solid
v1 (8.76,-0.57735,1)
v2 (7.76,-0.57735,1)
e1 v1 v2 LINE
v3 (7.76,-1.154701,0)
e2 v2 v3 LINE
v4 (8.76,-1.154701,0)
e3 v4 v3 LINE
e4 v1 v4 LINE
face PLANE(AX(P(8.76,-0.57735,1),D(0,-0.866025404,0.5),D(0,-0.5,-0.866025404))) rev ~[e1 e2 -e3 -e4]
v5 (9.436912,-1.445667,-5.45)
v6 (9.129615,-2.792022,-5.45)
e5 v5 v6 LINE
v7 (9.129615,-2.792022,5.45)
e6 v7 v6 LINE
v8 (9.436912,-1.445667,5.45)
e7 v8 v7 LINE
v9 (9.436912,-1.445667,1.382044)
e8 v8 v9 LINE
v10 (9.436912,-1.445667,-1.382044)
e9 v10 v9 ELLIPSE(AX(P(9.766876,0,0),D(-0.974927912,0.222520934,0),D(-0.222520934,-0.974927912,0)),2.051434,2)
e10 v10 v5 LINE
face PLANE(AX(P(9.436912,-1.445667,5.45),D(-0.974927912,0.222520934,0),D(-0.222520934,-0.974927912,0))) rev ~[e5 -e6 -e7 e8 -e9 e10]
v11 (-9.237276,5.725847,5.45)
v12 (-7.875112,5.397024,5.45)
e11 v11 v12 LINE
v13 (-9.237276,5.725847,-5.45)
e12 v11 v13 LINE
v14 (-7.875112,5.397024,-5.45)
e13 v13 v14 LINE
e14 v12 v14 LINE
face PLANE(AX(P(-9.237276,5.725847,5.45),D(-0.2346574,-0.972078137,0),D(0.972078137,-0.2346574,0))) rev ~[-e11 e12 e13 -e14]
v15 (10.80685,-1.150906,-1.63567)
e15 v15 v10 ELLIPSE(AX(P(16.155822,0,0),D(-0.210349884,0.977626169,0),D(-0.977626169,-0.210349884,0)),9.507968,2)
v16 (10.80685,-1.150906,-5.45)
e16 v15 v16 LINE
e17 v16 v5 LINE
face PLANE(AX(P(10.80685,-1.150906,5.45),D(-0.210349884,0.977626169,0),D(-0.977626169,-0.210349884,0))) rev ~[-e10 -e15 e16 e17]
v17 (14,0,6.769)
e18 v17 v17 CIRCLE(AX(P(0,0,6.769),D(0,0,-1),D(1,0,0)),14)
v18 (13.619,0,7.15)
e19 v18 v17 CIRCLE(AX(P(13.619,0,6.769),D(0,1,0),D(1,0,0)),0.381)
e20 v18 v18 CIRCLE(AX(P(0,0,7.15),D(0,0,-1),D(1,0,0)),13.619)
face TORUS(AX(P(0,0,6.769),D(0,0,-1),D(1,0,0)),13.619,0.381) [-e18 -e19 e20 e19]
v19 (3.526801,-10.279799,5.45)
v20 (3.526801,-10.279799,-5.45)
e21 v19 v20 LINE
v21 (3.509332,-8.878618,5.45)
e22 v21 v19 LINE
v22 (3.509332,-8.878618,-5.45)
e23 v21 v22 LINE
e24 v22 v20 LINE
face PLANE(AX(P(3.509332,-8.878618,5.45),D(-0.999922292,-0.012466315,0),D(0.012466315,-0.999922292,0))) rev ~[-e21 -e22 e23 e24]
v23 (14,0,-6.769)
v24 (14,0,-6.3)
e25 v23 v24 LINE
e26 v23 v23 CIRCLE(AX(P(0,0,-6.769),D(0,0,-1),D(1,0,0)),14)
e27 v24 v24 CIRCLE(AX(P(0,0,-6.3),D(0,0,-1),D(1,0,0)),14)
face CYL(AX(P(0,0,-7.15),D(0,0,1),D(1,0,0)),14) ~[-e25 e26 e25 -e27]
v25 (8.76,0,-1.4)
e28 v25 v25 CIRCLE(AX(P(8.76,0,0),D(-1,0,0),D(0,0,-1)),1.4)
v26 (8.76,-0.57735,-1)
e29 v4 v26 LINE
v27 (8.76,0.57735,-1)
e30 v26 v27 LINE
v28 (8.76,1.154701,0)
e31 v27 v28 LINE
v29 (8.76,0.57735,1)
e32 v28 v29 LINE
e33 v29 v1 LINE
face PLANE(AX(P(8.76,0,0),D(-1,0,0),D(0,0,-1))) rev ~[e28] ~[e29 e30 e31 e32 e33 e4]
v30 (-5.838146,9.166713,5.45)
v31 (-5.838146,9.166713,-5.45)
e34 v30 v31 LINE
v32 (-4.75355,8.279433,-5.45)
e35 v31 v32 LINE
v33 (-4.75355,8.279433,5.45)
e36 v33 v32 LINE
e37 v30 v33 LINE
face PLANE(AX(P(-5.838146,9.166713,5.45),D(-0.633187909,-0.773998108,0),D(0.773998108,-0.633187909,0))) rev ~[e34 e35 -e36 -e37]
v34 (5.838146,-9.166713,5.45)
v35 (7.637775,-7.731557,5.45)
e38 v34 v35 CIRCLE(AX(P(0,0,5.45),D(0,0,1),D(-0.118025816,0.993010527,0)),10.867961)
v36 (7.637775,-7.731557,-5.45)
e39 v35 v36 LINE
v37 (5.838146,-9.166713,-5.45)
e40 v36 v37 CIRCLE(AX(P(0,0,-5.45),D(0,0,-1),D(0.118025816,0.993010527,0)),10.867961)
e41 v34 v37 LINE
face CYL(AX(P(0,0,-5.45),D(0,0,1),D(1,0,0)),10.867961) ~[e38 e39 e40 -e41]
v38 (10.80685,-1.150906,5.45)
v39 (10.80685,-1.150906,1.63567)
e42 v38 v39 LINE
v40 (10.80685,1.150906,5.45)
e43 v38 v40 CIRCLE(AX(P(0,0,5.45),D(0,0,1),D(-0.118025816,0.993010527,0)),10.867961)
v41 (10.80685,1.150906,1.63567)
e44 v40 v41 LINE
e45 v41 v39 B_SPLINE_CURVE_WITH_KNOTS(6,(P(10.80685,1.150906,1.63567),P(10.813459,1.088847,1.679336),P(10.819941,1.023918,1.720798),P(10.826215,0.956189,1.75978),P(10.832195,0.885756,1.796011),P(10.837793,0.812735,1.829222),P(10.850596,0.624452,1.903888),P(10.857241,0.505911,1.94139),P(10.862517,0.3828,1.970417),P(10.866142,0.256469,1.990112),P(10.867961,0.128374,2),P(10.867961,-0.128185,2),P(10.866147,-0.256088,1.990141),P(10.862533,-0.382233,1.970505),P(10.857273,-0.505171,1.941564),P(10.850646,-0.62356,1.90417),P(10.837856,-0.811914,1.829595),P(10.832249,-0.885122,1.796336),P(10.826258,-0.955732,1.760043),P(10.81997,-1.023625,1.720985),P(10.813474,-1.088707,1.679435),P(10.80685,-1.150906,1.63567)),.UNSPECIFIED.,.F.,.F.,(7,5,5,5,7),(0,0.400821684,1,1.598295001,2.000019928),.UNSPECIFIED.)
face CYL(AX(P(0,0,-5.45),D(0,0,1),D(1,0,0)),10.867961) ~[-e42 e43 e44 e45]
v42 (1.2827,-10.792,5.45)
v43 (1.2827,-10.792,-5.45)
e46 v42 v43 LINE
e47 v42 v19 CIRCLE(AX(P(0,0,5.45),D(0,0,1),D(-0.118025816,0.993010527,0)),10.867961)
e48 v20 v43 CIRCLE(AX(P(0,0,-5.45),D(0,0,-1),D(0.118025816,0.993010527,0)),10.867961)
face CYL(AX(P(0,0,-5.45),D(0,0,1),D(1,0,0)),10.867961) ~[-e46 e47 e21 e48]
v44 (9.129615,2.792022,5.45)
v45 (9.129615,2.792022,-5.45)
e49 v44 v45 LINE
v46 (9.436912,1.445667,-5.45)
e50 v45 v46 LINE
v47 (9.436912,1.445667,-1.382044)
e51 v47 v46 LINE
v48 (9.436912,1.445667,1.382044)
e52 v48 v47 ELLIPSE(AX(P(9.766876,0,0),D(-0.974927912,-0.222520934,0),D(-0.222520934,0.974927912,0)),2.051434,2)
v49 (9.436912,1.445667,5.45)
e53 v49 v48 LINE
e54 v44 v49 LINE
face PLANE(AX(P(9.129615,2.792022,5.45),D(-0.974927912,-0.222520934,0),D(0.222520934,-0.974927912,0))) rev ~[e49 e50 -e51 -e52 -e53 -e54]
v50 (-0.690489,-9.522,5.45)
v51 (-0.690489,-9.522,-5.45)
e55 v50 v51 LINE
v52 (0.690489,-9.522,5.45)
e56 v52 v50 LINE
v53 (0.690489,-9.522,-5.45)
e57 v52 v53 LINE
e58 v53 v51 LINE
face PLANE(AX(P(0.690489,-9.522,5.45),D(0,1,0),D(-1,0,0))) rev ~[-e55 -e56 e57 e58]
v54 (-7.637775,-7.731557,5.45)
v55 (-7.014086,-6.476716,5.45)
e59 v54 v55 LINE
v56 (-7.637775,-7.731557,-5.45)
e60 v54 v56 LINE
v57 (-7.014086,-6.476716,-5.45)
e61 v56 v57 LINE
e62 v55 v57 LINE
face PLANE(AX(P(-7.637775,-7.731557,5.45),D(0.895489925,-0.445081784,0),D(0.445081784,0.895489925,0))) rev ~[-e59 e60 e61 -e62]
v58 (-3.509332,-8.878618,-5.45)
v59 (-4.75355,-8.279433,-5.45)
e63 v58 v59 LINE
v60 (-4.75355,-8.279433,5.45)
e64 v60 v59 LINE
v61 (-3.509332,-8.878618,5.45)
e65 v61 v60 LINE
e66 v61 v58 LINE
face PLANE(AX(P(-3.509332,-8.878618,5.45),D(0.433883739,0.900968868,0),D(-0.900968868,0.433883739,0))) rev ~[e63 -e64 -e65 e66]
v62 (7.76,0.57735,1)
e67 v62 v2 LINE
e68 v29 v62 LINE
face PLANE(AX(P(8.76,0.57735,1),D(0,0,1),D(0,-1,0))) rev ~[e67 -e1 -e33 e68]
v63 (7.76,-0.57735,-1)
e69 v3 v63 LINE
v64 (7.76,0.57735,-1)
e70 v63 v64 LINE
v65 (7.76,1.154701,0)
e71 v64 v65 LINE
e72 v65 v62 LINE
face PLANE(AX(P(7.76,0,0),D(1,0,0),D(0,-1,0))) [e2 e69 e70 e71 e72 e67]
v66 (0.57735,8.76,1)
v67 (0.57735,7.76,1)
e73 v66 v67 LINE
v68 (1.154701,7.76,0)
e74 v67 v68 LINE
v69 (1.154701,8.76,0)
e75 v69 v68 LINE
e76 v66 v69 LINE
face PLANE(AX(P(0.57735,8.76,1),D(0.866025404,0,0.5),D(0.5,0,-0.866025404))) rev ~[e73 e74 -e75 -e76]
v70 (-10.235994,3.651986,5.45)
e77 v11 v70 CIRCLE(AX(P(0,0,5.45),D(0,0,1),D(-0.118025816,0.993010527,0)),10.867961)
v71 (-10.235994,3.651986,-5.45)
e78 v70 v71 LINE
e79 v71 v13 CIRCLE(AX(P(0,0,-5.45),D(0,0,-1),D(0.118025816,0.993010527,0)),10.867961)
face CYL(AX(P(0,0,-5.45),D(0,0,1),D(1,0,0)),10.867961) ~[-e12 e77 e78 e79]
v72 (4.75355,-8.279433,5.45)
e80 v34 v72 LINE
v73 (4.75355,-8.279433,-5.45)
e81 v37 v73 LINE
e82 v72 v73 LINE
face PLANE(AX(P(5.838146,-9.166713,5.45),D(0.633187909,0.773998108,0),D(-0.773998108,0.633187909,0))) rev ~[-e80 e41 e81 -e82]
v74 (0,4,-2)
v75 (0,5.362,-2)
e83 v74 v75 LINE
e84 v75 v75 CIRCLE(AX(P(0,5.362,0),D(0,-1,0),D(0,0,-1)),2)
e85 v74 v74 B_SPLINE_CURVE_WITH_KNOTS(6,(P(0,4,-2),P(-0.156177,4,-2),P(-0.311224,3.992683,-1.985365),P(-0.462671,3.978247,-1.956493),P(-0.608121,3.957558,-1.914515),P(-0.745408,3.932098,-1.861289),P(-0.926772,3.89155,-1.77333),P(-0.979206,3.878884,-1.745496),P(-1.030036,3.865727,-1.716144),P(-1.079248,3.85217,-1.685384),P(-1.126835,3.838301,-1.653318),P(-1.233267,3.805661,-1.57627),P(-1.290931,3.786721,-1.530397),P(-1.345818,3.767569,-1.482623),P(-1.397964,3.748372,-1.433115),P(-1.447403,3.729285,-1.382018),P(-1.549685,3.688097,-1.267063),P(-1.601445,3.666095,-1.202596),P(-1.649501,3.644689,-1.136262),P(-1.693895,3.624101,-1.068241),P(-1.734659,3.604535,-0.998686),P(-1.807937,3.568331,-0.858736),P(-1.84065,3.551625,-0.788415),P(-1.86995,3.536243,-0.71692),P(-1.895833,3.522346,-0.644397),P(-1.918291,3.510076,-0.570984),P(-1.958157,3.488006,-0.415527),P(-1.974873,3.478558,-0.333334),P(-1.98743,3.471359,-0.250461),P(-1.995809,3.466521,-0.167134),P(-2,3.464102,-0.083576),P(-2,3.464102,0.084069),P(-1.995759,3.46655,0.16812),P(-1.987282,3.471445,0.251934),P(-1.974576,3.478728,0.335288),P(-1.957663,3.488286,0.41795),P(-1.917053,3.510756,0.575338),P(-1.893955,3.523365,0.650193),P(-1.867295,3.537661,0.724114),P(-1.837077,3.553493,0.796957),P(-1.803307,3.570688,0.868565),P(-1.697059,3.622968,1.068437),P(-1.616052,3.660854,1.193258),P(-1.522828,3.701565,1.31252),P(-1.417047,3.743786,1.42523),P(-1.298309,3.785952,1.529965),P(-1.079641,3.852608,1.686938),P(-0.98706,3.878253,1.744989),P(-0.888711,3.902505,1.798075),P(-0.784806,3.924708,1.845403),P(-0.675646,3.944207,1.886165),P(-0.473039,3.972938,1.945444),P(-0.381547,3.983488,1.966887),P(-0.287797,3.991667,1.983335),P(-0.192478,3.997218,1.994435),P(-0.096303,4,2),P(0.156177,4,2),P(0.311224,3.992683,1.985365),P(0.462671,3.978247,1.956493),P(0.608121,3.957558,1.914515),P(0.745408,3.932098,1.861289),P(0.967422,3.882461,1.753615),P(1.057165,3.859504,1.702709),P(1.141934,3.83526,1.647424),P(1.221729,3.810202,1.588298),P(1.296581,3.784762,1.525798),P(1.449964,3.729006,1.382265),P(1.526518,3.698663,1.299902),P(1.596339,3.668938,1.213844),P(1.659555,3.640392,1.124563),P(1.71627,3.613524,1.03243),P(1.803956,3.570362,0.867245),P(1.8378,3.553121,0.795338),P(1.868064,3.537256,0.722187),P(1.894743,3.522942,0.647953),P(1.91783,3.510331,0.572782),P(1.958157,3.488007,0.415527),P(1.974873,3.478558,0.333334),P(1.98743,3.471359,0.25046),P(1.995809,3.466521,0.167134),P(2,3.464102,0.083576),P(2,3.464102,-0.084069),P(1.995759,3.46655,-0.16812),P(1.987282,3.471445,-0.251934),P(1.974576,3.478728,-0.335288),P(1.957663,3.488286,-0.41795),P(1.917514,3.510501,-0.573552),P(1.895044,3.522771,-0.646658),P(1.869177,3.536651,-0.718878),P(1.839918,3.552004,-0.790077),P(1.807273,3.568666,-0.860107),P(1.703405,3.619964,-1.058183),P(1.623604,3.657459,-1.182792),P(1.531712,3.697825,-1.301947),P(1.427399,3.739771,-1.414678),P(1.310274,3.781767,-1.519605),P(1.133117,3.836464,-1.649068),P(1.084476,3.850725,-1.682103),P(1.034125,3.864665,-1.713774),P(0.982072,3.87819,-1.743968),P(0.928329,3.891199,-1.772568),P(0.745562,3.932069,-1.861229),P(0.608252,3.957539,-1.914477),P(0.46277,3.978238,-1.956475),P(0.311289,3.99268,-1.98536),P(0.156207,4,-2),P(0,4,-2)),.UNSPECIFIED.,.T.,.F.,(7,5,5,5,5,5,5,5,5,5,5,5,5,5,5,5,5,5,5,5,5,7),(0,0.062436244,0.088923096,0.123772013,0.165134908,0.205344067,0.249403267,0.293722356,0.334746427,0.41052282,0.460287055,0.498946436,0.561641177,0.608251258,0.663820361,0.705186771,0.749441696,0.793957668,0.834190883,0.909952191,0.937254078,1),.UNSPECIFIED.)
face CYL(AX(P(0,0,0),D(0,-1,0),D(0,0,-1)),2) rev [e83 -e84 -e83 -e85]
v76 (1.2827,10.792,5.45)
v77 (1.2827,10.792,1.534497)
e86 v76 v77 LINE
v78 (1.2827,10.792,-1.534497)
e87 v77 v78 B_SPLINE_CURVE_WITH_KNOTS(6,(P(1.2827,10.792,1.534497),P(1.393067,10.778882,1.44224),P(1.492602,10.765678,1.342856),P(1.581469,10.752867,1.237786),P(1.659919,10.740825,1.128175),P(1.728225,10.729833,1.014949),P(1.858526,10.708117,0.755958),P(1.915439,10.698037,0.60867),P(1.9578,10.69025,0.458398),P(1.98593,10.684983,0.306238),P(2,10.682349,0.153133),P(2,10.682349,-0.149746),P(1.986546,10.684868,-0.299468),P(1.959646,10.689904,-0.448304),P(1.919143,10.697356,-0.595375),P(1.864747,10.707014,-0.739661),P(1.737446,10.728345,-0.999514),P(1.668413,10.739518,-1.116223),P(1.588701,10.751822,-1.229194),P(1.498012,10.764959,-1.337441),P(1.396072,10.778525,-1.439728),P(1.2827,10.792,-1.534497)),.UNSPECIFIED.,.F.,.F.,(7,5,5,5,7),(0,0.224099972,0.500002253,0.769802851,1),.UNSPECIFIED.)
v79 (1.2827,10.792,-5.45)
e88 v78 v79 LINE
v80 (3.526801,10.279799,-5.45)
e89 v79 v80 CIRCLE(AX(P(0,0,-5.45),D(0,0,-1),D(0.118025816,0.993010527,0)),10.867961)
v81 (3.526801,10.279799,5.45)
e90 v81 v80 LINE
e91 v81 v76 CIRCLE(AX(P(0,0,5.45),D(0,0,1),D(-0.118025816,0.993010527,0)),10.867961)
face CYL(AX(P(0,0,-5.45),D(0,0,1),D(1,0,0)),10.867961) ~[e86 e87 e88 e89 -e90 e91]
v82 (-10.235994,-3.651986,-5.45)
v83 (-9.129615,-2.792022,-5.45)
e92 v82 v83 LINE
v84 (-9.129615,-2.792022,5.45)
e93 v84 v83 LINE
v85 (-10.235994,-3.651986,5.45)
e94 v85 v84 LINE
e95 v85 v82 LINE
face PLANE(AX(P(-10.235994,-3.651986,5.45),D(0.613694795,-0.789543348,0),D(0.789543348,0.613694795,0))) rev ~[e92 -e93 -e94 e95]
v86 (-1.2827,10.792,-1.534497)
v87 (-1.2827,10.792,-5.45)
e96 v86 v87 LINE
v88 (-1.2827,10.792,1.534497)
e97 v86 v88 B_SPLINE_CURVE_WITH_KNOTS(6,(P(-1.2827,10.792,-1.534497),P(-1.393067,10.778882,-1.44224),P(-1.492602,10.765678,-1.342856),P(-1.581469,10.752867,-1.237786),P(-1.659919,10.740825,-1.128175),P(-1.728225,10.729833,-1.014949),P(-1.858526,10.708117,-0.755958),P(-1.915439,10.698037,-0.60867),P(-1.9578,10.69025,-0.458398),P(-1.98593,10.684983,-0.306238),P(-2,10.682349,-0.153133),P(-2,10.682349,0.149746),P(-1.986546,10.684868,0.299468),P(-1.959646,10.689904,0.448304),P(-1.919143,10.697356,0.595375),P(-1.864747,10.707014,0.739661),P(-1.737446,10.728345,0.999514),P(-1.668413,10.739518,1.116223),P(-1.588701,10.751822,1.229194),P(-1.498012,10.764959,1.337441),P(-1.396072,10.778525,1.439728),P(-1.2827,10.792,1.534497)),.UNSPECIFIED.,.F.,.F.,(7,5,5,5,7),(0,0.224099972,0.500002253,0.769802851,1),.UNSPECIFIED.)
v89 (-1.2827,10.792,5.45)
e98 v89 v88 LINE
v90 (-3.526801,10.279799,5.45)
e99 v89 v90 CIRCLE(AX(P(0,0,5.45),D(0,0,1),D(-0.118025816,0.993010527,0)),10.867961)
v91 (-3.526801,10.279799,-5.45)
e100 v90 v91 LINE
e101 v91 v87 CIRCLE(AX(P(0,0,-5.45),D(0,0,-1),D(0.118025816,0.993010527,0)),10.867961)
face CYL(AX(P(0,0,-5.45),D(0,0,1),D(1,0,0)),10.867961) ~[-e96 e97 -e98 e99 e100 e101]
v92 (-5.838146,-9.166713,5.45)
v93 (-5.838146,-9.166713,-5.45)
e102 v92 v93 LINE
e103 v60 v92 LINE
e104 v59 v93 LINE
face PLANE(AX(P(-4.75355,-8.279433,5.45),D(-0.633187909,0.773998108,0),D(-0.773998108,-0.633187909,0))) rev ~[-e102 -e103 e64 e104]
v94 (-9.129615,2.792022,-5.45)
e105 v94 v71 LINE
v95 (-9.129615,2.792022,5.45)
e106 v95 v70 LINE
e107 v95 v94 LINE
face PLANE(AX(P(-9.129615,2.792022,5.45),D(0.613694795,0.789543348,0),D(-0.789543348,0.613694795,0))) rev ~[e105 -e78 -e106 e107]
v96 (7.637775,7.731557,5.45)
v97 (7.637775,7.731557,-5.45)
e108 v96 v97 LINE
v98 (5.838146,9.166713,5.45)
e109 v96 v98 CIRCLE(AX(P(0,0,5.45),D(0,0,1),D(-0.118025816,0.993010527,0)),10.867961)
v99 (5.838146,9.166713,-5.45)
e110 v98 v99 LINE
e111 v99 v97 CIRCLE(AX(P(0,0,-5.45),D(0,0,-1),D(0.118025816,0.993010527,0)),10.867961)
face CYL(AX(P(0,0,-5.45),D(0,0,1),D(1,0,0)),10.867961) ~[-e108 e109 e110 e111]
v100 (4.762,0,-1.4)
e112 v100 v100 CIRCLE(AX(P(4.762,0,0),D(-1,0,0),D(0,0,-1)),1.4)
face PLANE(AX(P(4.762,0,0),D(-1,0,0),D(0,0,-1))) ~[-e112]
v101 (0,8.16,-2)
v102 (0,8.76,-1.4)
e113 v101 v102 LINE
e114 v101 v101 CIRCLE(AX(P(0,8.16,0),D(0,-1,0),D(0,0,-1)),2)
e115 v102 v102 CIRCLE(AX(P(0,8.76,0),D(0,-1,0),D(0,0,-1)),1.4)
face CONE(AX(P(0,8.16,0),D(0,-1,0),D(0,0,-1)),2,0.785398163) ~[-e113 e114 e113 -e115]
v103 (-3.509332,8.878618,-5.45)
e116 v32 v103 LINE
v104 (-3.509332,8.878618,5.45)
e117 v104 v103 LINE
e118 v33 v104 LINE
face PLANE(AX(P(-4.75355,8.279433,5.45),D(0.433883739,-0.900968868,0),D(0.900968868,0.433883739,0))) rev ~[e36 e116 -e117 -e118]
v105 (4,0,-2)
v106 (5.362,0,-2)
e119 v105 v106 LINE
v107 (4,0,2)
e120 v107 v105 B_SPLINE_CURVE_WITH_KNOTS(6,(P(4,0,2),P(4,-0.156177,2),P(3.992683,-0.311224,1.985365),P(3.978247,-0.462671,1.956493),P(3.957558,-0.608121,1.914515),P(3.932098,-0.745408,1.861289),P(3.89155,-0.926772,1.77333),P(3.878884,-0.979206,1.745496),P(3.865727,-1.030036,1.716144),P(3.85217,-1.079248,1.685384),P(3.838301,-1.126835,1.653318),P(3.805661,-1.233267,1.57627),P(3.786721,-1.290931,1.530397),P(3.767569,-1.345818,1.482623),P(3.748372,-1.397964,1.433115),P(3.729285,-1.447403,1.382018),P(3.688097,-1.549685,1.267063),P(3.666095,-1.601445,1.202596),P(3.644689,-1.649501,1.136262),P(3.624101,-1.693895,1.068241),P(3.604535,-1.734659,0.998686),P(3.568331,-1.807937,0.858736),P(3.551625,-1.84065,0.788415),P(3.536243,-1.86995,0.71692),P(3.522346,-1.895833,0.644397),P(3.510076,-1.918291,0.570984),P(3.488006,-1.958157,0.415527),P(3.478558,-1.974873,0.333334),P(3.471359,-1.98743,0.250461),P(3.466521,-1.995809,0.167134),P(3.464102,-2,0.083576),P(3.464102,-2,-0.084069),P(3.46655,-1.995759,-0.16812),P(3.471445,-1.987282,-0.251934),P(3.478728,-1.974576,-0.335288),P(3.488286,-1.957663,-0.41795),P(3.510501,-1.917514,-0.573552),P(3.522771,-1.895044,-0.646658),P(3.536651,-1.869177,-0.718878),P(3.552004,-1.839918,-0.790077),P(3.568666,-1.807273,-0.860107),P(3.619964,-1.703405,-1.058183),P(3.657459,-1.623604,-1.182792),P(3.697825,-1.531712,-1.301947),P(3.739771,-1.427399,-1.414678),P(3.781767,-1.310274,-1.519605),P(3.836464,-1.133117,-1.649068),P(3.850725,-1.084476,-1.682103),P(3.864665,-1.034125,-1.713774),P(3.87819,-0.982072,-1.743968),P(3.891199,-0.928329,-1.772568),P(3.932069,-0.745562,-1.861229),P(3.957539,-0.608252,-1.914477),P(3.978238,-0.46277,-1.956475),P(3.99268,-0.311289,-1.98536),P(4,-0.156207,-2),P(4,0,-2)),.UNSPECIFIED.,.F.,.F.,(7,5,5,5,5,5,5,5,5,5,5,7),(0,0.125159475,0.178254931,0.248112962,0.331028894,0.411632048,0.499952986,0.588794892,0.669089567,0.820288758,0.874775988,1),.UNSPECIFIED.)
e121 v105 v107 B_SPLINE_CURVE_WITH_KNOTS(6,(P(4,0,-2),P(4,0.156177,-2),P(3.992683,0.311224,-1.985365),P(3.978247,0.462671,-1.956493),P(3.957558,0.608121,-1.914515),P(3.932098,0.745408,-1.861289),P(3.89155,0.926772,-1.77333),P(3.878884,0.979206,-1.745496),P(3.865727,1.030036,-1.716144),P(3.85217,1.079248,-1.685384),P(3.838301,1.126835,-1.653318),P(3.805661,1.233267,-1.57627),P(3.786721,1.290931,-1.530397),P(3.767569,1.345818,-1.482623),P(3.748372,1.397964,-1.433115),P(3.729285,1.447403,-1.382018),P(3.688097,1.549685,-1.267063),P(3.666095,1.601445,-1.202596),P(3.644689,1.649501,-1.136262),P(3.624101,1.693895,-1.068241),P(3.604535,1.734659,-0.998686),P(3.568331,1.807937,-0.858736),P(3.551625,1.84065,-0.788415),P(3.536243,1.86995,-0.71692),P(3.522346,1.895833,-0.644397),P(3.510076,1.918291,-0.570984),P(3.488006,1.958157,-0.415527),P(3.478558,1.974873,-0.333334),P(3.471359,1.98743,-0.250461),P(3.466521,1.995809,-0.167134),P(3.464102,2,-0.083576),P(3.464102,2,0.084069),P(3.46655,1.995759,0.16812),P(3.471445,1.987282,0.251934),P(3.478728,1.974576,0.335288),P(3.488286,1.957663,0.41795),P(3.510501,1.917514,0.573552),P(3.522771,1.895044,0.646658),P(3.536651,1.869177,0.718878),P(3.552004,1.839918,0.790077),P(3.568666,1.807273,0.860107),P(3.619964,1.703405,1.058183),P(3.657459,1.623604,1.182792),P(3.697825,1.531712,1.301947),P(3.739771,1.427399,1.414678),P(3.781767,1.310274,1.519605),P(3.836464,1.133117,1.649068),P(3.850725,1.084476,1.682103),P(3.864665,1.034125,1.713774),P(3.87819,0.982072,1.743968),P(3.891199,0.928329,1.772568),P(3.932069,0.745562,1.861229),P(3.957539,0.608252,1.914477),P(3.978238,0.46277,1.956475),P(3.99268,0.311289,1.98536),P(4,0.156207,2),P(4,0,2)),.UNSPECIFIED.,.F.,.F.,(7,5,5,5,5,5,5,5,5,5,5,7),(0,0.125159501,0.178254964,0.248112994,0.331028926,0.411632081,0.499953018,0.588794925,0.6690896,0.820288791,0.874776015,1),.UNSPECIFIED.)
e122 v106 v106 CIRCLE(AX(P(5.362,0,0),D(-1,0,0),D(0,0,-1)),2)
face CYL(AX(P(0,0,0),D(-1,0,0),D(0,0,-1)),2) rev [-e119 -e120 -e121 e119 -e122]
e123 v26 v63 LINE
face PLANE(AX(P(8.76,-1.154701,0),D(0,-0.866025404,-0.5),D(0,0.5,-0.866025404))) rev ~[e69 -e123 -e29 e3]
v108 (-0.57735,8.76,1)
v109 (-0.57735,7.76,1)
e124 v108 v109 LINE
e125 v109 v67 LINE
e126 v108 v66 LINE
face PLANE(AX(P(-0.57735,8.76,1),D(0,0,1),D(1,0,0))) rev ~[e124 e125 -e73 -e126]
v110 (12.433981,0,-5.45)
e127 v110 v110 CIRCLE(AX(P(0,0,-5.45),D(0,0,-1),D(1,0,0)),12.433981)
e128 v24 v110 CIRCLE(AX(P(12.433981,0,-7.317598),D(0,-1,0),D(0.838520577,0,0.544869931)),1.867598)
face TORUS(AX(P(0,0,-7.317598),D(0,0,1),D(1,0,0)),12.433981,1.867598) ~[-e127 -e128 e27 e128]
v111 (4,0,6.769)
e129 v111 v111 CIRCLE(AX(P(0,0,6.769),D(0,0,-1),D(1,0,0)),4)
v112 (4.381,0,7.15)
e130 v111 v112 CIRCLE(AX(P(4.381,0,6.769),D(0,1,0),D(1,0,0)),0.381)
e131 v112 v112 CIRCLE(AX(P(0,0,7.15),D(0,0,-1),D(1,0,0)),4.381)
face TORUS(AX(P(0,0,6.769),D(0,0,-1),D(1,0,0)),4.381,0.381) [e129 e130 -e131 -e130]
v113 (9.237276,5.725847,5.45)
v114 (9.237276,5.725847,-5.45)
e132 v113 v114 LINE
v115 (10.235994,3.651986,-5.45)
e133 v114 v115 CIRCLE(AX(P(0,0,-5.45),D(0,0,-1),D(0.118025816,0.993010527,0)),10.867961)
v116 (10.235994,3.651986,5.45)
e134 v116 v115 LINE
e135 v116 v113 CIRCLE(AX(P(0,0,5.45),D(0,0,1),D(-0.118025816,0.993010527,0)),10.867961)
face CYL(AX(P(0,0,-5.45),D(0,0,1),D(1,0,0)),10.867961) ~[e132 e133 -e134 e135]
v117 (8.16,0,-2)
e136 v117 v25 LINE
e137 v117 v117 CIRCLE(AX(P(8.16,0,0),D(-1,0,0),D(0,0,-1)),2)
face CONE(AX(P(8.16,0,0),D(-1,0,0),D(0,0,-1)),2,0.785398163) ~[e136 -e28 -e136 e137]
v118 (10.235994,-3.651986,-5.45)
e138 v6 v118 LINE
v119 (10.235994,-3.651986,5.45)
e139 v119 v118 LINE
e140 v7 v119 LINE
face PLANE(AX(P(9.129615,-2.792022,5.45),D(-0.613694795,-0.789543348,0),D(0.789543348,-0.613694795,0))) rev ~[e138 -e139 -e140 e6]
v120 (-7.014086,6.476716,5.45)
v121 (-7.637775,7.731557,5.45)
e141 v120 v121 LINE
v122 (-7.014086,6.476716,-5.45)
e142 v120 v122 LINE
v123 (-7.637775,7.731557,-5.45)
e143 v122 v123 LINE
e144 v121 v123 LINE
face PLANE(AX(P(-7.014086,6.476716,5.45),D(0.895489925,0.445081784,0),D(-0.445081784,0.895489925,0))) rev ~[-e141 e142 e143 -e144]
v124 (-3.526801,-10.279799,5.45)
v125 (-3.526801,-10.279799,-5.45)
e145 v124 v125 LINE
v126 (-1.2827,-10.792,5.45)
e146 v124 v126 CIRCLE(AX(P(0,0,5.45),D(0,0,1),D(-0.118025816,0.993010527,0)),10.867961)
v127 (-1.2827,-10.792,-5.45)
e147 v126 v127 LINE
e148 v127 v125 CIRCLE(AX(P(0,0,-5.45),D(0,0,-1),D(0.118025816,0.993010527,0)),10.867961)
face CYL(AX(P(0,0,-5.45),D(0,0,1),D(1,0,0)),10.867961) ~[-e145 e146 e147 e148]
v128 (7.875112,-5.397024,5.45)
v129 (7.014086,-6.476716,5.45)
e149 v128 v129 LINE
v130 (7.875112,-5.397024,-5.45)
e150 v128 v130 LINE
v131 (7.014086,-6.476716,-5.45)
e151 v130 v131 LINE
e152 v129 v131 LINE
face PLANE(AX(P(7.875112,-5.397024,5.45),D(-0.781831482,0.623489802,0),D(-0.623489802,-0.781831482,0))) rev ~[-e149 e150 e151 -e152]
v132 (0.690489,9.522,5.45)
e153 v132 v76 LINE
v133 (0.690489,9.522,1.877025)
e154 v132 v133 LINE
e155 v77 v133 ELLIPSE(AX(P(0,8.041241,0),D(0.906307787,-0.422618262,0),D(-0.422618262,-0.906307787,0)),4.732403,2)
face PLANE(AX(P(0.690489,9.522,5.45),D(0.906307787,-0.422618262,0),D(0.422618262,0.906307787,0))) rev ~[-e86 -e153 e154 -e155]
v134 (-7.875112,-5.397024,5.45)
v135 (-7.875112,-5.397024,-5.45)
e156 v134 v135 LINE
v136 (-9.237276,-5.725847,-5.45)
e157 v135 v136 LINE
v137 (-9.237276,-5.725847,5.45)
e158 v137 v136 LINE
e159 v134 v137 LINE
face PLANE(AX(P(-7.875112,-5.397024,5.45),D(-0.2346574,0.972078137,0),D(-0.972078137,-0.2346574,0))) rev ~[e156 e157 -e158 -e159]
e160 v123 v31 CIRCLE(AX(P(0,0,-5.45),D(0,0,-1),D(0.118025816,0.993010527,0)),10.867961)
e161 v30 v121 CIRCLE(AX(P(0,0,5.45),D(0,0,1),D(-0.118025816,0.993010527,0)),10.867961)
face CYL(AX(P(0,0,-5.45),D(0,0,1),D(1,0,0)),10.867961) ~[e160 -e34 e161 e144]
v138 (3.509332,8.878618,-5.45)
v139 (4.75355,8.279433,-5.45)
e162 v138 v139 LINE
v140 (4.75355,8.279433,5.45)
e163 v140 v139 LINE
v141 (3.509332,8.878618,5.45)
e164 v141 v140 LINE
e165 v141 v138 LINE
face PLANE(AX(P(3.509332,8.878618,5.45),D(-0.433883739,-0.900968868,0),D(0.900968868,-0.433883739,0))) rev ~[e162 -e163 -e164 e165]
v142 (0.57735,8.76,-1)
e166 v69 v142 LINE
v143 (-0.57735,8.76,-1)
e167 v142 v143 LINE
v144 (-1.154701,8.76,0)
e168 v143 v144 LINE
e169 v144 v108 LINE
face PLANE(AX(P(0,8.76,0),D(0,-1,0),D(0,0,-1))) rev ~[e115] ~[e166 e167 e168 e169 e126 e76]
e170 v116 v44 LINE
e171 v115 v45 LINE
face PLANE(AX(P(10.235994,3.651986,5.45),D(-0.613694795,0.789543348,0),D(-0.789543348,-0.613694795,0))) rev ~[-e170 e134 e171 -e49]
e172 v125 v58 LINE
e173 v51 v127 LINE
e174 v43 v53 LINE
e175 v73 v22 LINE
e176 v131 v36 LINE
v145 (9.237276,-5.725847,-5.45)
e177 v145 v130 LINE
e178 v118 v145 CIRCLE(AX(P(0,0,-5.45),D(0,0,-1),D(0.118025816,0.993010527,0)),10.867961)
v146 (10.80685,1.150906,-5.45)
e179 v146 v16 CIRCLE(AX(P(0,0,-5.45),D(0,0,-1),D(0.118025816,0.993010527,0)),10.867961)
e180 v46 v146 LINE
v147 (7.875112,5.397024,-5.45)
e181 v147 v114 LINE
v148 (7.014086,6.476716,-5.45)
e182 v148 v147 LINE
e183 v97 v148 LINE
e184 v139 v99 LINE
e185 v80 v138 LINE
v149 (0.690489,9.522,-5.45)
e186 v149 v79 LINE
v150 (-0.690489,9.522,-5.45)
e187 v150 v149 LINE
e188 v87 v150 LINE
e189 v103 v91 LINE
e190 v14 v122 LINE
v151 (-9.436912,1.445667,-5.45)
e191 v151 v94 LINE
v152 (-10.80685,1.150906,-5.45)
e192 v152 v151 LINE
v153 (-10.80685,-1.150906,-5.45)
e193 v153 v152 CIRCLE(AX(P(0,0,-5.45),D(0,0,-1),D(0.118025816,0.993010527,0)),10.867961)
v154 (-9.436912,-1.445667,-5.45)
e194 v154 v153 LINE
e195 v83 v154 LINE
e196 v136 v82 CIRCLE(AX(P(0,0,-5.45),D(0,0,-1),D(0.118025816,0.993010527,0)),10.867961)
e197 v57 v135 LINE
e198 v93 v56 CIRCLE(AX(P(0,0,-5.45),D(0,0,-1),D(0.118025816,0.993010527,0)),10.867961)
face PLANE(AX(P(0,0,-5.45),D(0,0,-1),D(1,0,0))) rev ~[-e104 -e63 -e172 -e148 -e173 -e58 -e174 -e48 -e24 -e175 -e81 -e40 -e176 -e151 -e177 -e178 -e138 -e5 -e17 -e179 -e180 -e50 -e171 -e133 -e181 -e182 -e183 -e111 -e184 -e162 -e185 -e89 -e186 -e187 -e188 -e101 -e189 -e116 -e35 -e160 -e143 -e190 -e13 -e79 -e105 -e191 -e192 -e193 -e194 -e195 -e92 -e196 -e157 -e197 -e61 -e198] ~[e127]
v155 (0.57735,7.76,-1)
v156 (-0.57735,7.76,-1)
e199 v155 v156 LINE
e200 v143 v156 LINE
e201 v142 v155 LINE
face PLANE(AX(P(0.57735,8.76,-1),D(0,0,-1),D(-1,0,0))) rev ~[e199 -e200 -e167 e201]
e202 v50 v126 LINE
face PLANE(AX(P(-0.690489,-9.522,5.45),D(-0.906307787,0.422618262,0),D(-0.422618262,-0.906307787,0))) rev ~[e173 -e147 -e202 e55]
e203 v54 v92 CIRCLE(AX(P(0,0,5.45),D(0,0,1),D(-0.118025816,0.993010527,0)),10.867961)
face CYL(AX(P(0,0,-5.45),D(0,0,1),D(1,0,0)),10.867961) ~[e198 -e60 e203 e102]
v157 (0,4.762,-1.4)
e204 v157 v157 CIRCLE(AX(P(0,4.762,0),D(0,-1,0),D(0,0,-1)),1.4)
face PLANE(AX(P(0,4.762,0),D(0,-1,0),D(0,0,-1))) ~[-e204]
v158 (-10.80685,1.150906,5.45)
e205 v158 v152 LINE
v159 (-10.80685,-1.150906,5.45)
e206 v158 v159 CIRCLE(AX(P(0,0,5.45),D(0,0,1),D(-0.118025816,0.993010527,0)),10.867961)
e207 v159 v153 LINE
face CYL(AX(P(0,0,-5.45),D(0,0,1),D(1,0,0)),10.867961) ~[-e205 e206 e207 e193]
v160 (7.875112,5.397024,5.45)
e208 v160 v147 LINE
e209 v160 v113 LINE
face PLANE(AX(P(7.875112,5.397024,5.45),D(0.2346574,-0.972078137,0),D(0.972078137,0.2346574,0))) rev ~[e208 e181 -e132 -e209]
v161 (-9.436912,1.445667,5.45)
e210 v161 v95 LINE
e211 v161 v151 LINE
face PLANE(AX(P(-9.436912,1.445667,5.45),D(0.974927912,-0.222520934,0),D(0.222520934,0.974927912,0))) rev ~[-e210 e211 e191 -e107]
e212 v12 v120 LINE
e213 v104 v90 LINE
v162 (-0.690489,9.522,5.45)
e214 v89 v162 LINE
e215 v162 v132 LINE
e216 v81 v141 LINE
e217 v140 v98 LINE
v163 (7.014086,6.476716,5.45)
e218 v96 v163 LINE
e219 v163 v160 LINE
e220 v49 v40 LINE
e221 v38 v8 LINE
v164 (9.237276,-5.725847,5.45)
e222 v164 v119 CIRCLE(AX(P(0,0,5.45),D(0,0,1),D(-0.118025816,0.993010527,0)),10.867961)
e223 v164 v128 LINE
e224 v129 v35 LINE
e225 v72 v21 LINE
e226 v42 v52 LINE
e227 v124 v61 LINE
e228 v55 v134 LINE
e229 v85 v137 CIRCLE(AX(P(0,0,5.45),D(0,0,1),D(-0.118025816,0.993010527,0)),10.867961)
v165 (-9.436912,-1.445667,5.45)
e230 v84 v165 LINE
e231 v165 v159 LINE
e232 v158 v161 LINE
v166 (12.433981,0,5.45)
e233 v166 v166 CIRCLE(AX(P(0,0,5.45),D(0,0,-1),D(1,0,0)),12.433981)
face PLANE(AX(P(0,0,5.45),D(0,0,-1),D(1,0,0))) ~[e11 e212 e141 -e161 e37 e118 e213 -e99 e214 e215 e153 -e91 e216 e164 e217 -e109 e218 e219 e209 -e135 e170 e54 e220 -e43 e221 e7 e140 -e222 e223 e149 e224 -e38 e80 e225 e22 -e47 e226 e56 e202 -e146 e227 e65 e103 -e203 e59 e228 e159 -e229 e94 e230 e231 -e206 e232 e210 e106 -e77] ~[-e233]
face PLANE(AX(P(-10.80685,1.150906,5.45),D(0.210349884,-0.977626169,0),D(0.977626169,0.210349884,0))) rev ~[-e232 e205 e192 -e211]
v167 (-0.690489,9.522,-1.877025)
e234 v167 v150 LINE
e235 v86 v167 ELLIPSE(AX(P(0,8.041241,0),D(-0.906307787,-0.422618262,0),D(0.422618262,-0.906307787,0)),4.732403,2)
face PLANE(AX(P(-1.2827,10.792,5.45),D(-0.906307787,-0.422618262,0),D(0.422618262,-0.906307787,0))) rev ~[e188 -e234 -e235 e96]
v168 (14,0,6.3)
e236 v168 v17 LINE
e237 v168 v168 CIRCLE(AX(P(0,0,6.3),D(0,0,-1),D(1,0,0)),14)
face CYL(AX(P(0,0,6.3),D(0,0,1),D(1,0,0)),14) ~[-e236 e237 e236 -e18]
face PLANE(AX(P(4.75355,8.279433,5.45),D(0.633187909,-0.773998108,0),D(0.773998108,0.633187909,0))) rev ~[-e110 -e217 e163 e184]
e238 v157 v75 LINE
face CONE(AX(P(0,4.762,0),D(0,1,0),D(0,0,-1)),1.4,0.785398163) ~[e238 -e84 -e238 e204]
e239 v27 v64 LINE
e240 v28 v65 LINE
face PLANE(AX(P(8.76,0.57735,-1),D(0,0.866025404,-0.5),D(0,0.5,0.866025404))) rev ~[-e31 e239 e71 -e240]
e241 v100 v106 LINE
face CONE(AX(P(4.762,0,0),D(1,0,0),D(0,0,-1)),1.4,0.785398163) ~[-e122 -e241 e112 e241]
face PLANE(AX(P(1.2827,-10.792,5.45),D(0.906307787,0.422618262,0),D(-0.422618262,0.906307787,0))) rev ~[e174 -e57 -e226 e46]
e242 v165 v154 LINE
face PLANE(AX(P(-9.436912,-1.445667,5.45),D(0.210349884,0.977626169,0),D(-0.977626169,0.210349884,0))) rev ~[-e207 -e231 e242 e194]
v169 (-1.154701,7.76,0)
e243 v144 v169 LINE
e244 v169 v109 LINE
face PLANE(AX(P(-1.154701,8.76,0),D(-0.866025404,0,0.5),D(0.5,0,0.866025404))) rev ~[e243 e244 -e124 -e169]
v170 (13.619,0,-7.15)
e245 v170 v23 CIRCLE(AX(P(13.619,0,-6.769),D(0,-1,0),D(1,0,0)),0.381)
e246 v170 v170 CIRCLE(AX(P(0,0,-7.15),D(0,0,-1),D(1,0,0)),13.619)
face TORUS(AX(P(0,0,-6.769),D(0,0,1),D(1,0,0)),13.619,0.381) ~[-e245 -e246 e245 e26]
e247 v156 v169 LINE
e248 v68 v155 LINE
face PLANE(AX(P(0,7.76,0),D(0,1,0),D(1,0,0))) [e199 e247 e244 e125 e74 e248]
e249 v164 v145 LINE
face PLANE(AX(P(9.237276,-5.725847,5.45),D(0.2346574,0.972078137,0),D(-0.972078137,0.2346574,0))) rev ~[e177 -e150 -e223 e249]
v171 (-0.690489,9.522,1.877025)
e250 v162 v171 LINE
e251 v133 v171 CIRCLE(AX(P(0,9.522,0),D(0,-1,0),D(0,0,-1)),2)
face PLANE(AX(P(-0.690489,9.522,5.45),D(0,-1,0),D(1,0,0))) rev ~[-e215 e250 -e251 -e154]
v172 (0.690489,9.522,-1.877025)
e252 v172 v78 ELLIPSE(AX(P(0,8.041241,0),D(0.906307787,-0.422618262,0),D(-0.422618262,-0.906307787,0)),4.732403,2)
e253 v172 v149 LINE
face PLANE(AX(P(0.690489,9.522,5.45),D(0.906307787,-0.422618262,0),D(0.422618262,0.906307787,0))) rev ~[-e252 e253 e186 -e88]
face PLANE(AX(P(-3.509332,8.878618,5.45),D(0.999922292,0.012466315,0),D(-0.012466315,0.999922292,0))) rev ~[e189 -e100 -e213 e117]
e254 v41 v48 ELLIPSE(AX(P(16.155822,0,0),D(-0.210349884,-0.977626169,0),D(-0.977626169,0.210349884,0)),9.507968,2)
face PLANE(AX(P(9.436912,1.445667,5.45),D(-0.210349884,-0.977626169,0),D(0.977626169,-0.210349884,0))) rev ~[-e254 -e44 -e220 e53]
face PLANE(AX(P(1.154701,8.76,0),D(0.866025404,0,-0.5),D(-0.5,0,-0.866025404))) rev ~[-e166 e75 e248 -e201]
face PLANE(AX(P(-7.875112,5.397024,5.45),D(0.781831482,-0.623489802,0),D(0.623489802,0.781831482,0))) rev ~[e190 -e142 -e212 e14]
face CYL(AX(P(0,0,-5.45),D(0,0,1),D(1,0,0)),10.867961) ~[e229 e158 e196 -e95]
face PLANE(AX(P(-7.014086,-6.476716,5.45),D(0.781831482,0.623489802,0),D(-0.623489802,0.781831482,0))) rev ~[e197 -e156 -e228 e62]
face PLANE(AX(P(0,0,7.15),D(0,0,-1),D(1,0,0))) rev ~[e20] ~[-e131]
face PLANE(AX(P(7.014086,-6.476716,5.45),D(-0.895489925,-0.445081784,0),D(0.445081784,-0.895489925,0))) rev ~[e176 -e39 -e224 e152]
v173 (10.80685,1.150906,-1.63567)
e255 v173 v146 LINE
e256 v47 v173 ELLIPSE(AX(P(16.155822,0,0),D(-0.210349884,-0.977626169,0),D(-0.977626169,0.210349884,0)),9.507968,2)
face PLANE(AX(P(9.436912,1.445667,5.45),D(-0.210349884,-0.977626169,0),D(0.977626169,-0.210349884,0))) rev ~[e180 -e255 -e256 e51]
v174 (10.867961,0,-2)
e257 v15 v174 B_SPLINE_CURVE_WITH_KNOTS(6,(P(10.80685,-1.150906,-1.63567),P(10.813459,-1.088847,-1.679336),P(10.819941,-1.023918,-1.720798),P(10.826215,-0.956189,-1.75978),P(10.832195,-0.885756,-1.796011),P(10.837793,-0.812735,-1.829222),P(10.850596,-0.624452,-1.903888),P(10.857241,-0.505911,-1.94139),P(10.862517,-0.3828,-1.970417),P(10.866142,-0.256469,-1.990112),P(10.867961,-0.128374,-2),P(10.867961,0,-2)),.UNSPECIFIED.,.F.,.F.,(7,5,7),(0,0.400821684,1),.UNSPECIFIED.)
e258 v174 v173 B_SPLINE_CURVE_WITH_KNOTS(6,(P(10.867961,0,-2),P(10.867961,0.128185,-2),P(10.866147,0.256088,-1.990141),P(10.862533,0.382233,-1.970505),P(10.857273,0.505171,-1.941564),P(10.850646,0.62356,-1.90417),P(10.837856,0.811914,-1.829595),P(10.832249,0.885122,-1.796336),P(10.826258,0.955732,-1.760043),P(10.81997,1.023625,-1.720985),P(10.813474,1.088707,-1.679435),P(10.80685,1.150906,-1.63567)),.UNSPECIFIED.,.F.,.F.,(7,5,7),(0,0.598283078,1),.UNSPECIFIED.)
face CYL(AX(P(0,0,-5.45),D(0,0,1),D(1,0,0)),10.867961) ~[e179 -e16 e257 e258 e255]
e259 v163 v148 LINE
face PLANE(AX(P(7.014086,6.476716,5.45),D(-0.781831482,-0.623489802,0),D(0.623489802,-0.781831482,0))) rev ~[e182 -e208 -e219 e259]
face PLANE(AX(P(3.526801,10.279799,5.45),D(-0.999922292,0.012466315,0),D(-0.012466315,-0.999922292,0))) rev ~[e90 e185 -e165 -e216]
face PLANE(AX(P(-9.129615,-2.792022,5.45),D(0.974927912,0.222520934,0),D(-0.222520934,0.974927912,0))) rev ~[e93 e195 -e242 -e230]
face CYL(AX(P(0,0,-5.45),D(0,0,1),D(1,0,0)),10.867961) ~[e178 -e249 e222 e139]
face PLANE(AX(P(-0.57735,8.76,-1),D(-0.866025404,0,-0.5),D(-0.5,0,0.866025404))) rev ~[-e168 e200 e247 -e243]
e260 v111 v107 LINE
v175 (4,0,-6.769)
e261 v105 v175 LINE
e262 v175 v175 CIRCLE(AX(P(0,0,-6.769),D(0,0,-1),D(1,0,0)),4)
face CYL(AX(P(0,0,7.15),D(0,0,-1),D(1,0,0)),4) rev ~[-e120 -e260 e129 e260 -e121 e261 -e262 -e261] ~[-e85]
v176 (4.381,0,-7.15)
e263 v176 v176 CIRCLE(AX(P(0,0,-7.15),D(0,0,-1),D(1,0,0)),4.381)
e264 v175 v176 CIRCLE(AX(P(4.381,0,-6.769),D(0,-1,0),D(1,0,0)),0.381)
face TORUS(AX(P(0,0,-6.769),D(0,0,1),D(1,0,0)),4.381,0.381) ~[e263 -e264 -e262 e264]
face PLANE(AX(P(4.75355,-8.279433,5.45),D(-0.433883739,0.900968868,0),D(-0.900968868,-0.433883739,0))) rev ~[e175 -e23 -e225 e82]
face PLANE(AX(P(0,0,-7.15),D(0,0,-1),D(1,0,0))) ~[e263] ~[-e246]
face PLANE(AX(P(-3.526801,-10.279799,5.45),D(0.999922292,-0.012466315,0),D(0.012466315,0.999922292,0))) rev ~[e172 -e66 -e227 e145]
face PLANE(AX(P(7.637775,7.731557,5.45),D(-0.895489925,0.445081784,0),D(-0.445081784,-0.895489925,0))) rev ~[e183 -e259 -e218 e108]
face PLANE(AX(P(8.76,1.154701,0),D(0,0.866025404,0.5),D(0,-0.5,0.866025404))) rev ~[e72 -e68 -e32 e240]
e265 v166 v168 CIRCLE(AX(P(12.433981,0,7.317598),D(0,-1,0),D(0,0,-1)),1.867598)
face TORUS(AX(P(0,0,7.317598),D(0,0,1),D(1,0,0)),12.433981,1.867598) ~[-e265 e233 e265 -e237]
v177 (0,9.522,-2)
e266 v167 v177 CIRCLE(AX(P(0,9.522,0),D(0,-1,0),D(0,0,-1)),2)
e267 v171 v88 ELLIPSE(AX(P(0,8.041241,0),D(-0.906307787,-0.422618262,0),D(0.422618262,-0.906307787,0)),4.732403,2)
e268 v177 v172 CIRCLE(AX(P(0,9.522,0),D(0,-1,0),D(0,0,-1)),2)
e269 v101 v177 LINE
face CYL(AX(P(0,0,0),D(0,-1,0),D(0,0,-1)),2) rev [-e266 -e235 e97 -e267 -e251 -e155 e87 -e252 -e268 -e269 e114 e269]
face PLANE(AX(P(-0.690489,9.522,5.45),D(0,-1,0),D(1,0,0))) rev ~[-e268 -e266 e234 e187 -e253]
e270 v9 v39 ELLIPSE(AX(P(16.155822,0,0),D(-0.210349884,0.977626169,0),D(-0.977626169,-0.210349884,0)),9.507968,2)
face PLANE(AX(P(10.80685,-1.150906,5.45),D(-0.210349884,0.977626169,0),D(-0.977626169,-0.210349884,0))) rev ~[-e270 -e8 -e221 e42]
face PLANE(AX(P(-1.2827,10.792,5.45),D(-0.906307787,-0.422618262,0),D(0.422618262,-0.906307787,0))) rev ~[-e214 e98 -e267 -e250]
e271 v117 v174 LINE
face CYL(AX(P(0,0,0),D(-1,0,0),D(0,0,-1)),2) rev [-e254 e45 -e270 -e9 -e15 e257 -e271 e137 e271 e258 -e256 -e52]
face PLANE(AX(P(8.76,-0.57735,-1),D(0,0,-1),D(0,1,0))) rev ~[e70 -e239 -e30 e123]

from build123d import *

# Parameters (mm, degrees)
CUT_EXTRUDE1_START = 5.45
CUT_EXTRUDE1_DEPTH = 10.9
CIRPATTERN1_COUNT  = 14
FILLET1_R          = 0.381
SKETCH5_R          = 2
CUT_EXTRUDE2_DEPTH = 22.050475121
CUT_EXTRUDE3_DEPTH = 1
CIRPATTERN2_COUNT  = 2
CIRPATTERN2_ANGLE  = 270


with BuildPart() as part:
    # Sketch2 → Revolve1 (revolve)
    with BuildSketch(Plane(origin=(0, 0, 0), x_dir=(0, 0, -1), z_dir=(1, 0, 0)), mode=Mode.PRIVATE) as revolve1_sk:
        with BuildLine():
            Line((-7.15, 4), (7.15, 4))
            Line((7.15, 4), (7.15, 14))
            Line((7.15, 14), (6.3, 14))
            ThreePointArc((6.3, 14), (5.67619825, 13.324895439), (5.45, 12.433980661))
            Line((5.45, 12.433980661), (5.45, 10.867961322))
            Line((5.45, 10.867961322), (-5.45, 10.867961322))
            Line((-5.45, 10.867961322), (-5.45, 12.433980661))
            ThreePointArc((-5.45, 12.433980661), (-5.67619825, 13.324895439), (-6.3, 14))
            Line((-6.3, 14), (-7.15, 14))
            Line((-7.15, 14), (-7.15, 4))
        make_face()
    revolve(revolve1_sk.sketch.rotate(Axis((0, 0, 7.15), (0, 0, -1)), 90), axis=Axis((0, 0, 7.15), (0, 0, -1)))

    # Sketch3 → Cut-Extrude1 (cut)
    with BuildSketch(Plane.XY.offset(CUT_EXTRUDE1_START)):
        with BuildLine():
            Line((-0.690489274, 9.522), (0.690489274, 9.522))
            Line((0.690489274, 9.522), (1.2827, 10.792))
            ThreePointArc((1.2827, 10.792), (0, 10.867961322), (-1.2827, 10.792))
            Line((-1.2827, 10.792), (-0.690489274, 9.522))
        make_face()
    cut_extrude1 = extrude(amount=-CUT_EXTRUDE1_DEPTH, mode=Mode.SUBTRACT)

    # CirPattern1: Cut-Extrude1 ×14 about axis
    cirpattern1_axis = Axis((0, 0, 0), (0, 0, 1))
    for i in range(1, CIRPATTERN1_COUNT):
        add(cut_extrude1.rotate(cirpattern1_axis, i * 360 / CIRPATTERN1_COUNT), mode=Mode.SUBTRACT)

    # Fillet1
    fillet1_edges = [part.edges().sort_by_distance(p)[0] for p in [
        (-14, 0, -7.15),
        (-4, 0, -7.15),
        (-4, 0, 7.15),
        (-14, 0, 7.15),
    ]]
    fillet(fillet1_edges, radius=FILLET1_R)

    # Sketch5 → Cut-Extrude2 (cut, through all)
    with BuildSketch(Plane(origin=(0, 0, 0), x_dir=(1, 0, 0), z_dir=(0, 1, 0))):
        with Locations(Location((0, 0, 0), (0, 0, 90))):
            Circle(SKETCH5_R)
    cut_extrude2 = extrude(amount=CUT_EXTRUDE2_DEPTH, mode=Mode.SUBTRACT)

    # Sketch6 → Revolve2 (revolve)
    with BuildSketch(Plane(origin=(0, 0, 0), x_dir=(0, 0, -1), z_dir=(1, 0, 0)), mode=Mode.PRIVATE) as revolve2_sk:
        Polygon((0, 8.76), (0, 4.762), (-1.4, 4.762), (-2, 5.362), (-2, 8.16), (-1.4, 8.76), align=None)
    revolve2 = revolve(revolve2_sk.sketch.rotate(Axis((0, 8.76, 0), (0, -1, 0)), 180), axis=Axis((0, 8.76, 0), (0, -1, 0)))

    # Sketch7 → Cut-Extrude3 (cut)
    with BuildSketch(Plane(origin=(0, 8.76, 0), x_dir=(1, 0, 0), z_dir=(0, 1, 0))):
        Polygon((1.154700538, 0), (0.577350269, 1), (-0.577350269, 1), (-1.154700538, 0), (-0.577350269, -1), (0.577350269, -1), align=None)
    cut_extrude3 = extrude(amount=-CUT_EXTRUDE3_DEPTH, mode=Mode.SUBTRACT)

    # CirPattern2: Cut-Extrude2, Revolve2, Cut-Extrude3 ×2 about axis
    cirpattern2_axis = Axis((0, 0, 0), (0, 0, 1))
    add([cut_extrude2.rotate(cirpattern2_axis, i * CIRPATTERN2_ANGLE / (CIRPATTERN2_COUNT - 1)) for i in range(1, CIRPATTERN2_COUNT)], mode=Mode.SUBTRACT)
    add([revolve2.rotate(cirpattern2_axis, i * CIRPATTERN2_ANGLE / (CIRPATTERN2_COUNT - 1)) for i in range(1, CIRPATTERN2_COUNT)])
    add([cut_extrude3.rotate(cirpattern2_axis, i * CIRPATTERN2_ANGLE / (CIRPATTERN2_COUNT - 1)) for i in range(1, CIRPATTERN2_COUNT)], mode=Mode.SUBTRACT)


solid = part.part
